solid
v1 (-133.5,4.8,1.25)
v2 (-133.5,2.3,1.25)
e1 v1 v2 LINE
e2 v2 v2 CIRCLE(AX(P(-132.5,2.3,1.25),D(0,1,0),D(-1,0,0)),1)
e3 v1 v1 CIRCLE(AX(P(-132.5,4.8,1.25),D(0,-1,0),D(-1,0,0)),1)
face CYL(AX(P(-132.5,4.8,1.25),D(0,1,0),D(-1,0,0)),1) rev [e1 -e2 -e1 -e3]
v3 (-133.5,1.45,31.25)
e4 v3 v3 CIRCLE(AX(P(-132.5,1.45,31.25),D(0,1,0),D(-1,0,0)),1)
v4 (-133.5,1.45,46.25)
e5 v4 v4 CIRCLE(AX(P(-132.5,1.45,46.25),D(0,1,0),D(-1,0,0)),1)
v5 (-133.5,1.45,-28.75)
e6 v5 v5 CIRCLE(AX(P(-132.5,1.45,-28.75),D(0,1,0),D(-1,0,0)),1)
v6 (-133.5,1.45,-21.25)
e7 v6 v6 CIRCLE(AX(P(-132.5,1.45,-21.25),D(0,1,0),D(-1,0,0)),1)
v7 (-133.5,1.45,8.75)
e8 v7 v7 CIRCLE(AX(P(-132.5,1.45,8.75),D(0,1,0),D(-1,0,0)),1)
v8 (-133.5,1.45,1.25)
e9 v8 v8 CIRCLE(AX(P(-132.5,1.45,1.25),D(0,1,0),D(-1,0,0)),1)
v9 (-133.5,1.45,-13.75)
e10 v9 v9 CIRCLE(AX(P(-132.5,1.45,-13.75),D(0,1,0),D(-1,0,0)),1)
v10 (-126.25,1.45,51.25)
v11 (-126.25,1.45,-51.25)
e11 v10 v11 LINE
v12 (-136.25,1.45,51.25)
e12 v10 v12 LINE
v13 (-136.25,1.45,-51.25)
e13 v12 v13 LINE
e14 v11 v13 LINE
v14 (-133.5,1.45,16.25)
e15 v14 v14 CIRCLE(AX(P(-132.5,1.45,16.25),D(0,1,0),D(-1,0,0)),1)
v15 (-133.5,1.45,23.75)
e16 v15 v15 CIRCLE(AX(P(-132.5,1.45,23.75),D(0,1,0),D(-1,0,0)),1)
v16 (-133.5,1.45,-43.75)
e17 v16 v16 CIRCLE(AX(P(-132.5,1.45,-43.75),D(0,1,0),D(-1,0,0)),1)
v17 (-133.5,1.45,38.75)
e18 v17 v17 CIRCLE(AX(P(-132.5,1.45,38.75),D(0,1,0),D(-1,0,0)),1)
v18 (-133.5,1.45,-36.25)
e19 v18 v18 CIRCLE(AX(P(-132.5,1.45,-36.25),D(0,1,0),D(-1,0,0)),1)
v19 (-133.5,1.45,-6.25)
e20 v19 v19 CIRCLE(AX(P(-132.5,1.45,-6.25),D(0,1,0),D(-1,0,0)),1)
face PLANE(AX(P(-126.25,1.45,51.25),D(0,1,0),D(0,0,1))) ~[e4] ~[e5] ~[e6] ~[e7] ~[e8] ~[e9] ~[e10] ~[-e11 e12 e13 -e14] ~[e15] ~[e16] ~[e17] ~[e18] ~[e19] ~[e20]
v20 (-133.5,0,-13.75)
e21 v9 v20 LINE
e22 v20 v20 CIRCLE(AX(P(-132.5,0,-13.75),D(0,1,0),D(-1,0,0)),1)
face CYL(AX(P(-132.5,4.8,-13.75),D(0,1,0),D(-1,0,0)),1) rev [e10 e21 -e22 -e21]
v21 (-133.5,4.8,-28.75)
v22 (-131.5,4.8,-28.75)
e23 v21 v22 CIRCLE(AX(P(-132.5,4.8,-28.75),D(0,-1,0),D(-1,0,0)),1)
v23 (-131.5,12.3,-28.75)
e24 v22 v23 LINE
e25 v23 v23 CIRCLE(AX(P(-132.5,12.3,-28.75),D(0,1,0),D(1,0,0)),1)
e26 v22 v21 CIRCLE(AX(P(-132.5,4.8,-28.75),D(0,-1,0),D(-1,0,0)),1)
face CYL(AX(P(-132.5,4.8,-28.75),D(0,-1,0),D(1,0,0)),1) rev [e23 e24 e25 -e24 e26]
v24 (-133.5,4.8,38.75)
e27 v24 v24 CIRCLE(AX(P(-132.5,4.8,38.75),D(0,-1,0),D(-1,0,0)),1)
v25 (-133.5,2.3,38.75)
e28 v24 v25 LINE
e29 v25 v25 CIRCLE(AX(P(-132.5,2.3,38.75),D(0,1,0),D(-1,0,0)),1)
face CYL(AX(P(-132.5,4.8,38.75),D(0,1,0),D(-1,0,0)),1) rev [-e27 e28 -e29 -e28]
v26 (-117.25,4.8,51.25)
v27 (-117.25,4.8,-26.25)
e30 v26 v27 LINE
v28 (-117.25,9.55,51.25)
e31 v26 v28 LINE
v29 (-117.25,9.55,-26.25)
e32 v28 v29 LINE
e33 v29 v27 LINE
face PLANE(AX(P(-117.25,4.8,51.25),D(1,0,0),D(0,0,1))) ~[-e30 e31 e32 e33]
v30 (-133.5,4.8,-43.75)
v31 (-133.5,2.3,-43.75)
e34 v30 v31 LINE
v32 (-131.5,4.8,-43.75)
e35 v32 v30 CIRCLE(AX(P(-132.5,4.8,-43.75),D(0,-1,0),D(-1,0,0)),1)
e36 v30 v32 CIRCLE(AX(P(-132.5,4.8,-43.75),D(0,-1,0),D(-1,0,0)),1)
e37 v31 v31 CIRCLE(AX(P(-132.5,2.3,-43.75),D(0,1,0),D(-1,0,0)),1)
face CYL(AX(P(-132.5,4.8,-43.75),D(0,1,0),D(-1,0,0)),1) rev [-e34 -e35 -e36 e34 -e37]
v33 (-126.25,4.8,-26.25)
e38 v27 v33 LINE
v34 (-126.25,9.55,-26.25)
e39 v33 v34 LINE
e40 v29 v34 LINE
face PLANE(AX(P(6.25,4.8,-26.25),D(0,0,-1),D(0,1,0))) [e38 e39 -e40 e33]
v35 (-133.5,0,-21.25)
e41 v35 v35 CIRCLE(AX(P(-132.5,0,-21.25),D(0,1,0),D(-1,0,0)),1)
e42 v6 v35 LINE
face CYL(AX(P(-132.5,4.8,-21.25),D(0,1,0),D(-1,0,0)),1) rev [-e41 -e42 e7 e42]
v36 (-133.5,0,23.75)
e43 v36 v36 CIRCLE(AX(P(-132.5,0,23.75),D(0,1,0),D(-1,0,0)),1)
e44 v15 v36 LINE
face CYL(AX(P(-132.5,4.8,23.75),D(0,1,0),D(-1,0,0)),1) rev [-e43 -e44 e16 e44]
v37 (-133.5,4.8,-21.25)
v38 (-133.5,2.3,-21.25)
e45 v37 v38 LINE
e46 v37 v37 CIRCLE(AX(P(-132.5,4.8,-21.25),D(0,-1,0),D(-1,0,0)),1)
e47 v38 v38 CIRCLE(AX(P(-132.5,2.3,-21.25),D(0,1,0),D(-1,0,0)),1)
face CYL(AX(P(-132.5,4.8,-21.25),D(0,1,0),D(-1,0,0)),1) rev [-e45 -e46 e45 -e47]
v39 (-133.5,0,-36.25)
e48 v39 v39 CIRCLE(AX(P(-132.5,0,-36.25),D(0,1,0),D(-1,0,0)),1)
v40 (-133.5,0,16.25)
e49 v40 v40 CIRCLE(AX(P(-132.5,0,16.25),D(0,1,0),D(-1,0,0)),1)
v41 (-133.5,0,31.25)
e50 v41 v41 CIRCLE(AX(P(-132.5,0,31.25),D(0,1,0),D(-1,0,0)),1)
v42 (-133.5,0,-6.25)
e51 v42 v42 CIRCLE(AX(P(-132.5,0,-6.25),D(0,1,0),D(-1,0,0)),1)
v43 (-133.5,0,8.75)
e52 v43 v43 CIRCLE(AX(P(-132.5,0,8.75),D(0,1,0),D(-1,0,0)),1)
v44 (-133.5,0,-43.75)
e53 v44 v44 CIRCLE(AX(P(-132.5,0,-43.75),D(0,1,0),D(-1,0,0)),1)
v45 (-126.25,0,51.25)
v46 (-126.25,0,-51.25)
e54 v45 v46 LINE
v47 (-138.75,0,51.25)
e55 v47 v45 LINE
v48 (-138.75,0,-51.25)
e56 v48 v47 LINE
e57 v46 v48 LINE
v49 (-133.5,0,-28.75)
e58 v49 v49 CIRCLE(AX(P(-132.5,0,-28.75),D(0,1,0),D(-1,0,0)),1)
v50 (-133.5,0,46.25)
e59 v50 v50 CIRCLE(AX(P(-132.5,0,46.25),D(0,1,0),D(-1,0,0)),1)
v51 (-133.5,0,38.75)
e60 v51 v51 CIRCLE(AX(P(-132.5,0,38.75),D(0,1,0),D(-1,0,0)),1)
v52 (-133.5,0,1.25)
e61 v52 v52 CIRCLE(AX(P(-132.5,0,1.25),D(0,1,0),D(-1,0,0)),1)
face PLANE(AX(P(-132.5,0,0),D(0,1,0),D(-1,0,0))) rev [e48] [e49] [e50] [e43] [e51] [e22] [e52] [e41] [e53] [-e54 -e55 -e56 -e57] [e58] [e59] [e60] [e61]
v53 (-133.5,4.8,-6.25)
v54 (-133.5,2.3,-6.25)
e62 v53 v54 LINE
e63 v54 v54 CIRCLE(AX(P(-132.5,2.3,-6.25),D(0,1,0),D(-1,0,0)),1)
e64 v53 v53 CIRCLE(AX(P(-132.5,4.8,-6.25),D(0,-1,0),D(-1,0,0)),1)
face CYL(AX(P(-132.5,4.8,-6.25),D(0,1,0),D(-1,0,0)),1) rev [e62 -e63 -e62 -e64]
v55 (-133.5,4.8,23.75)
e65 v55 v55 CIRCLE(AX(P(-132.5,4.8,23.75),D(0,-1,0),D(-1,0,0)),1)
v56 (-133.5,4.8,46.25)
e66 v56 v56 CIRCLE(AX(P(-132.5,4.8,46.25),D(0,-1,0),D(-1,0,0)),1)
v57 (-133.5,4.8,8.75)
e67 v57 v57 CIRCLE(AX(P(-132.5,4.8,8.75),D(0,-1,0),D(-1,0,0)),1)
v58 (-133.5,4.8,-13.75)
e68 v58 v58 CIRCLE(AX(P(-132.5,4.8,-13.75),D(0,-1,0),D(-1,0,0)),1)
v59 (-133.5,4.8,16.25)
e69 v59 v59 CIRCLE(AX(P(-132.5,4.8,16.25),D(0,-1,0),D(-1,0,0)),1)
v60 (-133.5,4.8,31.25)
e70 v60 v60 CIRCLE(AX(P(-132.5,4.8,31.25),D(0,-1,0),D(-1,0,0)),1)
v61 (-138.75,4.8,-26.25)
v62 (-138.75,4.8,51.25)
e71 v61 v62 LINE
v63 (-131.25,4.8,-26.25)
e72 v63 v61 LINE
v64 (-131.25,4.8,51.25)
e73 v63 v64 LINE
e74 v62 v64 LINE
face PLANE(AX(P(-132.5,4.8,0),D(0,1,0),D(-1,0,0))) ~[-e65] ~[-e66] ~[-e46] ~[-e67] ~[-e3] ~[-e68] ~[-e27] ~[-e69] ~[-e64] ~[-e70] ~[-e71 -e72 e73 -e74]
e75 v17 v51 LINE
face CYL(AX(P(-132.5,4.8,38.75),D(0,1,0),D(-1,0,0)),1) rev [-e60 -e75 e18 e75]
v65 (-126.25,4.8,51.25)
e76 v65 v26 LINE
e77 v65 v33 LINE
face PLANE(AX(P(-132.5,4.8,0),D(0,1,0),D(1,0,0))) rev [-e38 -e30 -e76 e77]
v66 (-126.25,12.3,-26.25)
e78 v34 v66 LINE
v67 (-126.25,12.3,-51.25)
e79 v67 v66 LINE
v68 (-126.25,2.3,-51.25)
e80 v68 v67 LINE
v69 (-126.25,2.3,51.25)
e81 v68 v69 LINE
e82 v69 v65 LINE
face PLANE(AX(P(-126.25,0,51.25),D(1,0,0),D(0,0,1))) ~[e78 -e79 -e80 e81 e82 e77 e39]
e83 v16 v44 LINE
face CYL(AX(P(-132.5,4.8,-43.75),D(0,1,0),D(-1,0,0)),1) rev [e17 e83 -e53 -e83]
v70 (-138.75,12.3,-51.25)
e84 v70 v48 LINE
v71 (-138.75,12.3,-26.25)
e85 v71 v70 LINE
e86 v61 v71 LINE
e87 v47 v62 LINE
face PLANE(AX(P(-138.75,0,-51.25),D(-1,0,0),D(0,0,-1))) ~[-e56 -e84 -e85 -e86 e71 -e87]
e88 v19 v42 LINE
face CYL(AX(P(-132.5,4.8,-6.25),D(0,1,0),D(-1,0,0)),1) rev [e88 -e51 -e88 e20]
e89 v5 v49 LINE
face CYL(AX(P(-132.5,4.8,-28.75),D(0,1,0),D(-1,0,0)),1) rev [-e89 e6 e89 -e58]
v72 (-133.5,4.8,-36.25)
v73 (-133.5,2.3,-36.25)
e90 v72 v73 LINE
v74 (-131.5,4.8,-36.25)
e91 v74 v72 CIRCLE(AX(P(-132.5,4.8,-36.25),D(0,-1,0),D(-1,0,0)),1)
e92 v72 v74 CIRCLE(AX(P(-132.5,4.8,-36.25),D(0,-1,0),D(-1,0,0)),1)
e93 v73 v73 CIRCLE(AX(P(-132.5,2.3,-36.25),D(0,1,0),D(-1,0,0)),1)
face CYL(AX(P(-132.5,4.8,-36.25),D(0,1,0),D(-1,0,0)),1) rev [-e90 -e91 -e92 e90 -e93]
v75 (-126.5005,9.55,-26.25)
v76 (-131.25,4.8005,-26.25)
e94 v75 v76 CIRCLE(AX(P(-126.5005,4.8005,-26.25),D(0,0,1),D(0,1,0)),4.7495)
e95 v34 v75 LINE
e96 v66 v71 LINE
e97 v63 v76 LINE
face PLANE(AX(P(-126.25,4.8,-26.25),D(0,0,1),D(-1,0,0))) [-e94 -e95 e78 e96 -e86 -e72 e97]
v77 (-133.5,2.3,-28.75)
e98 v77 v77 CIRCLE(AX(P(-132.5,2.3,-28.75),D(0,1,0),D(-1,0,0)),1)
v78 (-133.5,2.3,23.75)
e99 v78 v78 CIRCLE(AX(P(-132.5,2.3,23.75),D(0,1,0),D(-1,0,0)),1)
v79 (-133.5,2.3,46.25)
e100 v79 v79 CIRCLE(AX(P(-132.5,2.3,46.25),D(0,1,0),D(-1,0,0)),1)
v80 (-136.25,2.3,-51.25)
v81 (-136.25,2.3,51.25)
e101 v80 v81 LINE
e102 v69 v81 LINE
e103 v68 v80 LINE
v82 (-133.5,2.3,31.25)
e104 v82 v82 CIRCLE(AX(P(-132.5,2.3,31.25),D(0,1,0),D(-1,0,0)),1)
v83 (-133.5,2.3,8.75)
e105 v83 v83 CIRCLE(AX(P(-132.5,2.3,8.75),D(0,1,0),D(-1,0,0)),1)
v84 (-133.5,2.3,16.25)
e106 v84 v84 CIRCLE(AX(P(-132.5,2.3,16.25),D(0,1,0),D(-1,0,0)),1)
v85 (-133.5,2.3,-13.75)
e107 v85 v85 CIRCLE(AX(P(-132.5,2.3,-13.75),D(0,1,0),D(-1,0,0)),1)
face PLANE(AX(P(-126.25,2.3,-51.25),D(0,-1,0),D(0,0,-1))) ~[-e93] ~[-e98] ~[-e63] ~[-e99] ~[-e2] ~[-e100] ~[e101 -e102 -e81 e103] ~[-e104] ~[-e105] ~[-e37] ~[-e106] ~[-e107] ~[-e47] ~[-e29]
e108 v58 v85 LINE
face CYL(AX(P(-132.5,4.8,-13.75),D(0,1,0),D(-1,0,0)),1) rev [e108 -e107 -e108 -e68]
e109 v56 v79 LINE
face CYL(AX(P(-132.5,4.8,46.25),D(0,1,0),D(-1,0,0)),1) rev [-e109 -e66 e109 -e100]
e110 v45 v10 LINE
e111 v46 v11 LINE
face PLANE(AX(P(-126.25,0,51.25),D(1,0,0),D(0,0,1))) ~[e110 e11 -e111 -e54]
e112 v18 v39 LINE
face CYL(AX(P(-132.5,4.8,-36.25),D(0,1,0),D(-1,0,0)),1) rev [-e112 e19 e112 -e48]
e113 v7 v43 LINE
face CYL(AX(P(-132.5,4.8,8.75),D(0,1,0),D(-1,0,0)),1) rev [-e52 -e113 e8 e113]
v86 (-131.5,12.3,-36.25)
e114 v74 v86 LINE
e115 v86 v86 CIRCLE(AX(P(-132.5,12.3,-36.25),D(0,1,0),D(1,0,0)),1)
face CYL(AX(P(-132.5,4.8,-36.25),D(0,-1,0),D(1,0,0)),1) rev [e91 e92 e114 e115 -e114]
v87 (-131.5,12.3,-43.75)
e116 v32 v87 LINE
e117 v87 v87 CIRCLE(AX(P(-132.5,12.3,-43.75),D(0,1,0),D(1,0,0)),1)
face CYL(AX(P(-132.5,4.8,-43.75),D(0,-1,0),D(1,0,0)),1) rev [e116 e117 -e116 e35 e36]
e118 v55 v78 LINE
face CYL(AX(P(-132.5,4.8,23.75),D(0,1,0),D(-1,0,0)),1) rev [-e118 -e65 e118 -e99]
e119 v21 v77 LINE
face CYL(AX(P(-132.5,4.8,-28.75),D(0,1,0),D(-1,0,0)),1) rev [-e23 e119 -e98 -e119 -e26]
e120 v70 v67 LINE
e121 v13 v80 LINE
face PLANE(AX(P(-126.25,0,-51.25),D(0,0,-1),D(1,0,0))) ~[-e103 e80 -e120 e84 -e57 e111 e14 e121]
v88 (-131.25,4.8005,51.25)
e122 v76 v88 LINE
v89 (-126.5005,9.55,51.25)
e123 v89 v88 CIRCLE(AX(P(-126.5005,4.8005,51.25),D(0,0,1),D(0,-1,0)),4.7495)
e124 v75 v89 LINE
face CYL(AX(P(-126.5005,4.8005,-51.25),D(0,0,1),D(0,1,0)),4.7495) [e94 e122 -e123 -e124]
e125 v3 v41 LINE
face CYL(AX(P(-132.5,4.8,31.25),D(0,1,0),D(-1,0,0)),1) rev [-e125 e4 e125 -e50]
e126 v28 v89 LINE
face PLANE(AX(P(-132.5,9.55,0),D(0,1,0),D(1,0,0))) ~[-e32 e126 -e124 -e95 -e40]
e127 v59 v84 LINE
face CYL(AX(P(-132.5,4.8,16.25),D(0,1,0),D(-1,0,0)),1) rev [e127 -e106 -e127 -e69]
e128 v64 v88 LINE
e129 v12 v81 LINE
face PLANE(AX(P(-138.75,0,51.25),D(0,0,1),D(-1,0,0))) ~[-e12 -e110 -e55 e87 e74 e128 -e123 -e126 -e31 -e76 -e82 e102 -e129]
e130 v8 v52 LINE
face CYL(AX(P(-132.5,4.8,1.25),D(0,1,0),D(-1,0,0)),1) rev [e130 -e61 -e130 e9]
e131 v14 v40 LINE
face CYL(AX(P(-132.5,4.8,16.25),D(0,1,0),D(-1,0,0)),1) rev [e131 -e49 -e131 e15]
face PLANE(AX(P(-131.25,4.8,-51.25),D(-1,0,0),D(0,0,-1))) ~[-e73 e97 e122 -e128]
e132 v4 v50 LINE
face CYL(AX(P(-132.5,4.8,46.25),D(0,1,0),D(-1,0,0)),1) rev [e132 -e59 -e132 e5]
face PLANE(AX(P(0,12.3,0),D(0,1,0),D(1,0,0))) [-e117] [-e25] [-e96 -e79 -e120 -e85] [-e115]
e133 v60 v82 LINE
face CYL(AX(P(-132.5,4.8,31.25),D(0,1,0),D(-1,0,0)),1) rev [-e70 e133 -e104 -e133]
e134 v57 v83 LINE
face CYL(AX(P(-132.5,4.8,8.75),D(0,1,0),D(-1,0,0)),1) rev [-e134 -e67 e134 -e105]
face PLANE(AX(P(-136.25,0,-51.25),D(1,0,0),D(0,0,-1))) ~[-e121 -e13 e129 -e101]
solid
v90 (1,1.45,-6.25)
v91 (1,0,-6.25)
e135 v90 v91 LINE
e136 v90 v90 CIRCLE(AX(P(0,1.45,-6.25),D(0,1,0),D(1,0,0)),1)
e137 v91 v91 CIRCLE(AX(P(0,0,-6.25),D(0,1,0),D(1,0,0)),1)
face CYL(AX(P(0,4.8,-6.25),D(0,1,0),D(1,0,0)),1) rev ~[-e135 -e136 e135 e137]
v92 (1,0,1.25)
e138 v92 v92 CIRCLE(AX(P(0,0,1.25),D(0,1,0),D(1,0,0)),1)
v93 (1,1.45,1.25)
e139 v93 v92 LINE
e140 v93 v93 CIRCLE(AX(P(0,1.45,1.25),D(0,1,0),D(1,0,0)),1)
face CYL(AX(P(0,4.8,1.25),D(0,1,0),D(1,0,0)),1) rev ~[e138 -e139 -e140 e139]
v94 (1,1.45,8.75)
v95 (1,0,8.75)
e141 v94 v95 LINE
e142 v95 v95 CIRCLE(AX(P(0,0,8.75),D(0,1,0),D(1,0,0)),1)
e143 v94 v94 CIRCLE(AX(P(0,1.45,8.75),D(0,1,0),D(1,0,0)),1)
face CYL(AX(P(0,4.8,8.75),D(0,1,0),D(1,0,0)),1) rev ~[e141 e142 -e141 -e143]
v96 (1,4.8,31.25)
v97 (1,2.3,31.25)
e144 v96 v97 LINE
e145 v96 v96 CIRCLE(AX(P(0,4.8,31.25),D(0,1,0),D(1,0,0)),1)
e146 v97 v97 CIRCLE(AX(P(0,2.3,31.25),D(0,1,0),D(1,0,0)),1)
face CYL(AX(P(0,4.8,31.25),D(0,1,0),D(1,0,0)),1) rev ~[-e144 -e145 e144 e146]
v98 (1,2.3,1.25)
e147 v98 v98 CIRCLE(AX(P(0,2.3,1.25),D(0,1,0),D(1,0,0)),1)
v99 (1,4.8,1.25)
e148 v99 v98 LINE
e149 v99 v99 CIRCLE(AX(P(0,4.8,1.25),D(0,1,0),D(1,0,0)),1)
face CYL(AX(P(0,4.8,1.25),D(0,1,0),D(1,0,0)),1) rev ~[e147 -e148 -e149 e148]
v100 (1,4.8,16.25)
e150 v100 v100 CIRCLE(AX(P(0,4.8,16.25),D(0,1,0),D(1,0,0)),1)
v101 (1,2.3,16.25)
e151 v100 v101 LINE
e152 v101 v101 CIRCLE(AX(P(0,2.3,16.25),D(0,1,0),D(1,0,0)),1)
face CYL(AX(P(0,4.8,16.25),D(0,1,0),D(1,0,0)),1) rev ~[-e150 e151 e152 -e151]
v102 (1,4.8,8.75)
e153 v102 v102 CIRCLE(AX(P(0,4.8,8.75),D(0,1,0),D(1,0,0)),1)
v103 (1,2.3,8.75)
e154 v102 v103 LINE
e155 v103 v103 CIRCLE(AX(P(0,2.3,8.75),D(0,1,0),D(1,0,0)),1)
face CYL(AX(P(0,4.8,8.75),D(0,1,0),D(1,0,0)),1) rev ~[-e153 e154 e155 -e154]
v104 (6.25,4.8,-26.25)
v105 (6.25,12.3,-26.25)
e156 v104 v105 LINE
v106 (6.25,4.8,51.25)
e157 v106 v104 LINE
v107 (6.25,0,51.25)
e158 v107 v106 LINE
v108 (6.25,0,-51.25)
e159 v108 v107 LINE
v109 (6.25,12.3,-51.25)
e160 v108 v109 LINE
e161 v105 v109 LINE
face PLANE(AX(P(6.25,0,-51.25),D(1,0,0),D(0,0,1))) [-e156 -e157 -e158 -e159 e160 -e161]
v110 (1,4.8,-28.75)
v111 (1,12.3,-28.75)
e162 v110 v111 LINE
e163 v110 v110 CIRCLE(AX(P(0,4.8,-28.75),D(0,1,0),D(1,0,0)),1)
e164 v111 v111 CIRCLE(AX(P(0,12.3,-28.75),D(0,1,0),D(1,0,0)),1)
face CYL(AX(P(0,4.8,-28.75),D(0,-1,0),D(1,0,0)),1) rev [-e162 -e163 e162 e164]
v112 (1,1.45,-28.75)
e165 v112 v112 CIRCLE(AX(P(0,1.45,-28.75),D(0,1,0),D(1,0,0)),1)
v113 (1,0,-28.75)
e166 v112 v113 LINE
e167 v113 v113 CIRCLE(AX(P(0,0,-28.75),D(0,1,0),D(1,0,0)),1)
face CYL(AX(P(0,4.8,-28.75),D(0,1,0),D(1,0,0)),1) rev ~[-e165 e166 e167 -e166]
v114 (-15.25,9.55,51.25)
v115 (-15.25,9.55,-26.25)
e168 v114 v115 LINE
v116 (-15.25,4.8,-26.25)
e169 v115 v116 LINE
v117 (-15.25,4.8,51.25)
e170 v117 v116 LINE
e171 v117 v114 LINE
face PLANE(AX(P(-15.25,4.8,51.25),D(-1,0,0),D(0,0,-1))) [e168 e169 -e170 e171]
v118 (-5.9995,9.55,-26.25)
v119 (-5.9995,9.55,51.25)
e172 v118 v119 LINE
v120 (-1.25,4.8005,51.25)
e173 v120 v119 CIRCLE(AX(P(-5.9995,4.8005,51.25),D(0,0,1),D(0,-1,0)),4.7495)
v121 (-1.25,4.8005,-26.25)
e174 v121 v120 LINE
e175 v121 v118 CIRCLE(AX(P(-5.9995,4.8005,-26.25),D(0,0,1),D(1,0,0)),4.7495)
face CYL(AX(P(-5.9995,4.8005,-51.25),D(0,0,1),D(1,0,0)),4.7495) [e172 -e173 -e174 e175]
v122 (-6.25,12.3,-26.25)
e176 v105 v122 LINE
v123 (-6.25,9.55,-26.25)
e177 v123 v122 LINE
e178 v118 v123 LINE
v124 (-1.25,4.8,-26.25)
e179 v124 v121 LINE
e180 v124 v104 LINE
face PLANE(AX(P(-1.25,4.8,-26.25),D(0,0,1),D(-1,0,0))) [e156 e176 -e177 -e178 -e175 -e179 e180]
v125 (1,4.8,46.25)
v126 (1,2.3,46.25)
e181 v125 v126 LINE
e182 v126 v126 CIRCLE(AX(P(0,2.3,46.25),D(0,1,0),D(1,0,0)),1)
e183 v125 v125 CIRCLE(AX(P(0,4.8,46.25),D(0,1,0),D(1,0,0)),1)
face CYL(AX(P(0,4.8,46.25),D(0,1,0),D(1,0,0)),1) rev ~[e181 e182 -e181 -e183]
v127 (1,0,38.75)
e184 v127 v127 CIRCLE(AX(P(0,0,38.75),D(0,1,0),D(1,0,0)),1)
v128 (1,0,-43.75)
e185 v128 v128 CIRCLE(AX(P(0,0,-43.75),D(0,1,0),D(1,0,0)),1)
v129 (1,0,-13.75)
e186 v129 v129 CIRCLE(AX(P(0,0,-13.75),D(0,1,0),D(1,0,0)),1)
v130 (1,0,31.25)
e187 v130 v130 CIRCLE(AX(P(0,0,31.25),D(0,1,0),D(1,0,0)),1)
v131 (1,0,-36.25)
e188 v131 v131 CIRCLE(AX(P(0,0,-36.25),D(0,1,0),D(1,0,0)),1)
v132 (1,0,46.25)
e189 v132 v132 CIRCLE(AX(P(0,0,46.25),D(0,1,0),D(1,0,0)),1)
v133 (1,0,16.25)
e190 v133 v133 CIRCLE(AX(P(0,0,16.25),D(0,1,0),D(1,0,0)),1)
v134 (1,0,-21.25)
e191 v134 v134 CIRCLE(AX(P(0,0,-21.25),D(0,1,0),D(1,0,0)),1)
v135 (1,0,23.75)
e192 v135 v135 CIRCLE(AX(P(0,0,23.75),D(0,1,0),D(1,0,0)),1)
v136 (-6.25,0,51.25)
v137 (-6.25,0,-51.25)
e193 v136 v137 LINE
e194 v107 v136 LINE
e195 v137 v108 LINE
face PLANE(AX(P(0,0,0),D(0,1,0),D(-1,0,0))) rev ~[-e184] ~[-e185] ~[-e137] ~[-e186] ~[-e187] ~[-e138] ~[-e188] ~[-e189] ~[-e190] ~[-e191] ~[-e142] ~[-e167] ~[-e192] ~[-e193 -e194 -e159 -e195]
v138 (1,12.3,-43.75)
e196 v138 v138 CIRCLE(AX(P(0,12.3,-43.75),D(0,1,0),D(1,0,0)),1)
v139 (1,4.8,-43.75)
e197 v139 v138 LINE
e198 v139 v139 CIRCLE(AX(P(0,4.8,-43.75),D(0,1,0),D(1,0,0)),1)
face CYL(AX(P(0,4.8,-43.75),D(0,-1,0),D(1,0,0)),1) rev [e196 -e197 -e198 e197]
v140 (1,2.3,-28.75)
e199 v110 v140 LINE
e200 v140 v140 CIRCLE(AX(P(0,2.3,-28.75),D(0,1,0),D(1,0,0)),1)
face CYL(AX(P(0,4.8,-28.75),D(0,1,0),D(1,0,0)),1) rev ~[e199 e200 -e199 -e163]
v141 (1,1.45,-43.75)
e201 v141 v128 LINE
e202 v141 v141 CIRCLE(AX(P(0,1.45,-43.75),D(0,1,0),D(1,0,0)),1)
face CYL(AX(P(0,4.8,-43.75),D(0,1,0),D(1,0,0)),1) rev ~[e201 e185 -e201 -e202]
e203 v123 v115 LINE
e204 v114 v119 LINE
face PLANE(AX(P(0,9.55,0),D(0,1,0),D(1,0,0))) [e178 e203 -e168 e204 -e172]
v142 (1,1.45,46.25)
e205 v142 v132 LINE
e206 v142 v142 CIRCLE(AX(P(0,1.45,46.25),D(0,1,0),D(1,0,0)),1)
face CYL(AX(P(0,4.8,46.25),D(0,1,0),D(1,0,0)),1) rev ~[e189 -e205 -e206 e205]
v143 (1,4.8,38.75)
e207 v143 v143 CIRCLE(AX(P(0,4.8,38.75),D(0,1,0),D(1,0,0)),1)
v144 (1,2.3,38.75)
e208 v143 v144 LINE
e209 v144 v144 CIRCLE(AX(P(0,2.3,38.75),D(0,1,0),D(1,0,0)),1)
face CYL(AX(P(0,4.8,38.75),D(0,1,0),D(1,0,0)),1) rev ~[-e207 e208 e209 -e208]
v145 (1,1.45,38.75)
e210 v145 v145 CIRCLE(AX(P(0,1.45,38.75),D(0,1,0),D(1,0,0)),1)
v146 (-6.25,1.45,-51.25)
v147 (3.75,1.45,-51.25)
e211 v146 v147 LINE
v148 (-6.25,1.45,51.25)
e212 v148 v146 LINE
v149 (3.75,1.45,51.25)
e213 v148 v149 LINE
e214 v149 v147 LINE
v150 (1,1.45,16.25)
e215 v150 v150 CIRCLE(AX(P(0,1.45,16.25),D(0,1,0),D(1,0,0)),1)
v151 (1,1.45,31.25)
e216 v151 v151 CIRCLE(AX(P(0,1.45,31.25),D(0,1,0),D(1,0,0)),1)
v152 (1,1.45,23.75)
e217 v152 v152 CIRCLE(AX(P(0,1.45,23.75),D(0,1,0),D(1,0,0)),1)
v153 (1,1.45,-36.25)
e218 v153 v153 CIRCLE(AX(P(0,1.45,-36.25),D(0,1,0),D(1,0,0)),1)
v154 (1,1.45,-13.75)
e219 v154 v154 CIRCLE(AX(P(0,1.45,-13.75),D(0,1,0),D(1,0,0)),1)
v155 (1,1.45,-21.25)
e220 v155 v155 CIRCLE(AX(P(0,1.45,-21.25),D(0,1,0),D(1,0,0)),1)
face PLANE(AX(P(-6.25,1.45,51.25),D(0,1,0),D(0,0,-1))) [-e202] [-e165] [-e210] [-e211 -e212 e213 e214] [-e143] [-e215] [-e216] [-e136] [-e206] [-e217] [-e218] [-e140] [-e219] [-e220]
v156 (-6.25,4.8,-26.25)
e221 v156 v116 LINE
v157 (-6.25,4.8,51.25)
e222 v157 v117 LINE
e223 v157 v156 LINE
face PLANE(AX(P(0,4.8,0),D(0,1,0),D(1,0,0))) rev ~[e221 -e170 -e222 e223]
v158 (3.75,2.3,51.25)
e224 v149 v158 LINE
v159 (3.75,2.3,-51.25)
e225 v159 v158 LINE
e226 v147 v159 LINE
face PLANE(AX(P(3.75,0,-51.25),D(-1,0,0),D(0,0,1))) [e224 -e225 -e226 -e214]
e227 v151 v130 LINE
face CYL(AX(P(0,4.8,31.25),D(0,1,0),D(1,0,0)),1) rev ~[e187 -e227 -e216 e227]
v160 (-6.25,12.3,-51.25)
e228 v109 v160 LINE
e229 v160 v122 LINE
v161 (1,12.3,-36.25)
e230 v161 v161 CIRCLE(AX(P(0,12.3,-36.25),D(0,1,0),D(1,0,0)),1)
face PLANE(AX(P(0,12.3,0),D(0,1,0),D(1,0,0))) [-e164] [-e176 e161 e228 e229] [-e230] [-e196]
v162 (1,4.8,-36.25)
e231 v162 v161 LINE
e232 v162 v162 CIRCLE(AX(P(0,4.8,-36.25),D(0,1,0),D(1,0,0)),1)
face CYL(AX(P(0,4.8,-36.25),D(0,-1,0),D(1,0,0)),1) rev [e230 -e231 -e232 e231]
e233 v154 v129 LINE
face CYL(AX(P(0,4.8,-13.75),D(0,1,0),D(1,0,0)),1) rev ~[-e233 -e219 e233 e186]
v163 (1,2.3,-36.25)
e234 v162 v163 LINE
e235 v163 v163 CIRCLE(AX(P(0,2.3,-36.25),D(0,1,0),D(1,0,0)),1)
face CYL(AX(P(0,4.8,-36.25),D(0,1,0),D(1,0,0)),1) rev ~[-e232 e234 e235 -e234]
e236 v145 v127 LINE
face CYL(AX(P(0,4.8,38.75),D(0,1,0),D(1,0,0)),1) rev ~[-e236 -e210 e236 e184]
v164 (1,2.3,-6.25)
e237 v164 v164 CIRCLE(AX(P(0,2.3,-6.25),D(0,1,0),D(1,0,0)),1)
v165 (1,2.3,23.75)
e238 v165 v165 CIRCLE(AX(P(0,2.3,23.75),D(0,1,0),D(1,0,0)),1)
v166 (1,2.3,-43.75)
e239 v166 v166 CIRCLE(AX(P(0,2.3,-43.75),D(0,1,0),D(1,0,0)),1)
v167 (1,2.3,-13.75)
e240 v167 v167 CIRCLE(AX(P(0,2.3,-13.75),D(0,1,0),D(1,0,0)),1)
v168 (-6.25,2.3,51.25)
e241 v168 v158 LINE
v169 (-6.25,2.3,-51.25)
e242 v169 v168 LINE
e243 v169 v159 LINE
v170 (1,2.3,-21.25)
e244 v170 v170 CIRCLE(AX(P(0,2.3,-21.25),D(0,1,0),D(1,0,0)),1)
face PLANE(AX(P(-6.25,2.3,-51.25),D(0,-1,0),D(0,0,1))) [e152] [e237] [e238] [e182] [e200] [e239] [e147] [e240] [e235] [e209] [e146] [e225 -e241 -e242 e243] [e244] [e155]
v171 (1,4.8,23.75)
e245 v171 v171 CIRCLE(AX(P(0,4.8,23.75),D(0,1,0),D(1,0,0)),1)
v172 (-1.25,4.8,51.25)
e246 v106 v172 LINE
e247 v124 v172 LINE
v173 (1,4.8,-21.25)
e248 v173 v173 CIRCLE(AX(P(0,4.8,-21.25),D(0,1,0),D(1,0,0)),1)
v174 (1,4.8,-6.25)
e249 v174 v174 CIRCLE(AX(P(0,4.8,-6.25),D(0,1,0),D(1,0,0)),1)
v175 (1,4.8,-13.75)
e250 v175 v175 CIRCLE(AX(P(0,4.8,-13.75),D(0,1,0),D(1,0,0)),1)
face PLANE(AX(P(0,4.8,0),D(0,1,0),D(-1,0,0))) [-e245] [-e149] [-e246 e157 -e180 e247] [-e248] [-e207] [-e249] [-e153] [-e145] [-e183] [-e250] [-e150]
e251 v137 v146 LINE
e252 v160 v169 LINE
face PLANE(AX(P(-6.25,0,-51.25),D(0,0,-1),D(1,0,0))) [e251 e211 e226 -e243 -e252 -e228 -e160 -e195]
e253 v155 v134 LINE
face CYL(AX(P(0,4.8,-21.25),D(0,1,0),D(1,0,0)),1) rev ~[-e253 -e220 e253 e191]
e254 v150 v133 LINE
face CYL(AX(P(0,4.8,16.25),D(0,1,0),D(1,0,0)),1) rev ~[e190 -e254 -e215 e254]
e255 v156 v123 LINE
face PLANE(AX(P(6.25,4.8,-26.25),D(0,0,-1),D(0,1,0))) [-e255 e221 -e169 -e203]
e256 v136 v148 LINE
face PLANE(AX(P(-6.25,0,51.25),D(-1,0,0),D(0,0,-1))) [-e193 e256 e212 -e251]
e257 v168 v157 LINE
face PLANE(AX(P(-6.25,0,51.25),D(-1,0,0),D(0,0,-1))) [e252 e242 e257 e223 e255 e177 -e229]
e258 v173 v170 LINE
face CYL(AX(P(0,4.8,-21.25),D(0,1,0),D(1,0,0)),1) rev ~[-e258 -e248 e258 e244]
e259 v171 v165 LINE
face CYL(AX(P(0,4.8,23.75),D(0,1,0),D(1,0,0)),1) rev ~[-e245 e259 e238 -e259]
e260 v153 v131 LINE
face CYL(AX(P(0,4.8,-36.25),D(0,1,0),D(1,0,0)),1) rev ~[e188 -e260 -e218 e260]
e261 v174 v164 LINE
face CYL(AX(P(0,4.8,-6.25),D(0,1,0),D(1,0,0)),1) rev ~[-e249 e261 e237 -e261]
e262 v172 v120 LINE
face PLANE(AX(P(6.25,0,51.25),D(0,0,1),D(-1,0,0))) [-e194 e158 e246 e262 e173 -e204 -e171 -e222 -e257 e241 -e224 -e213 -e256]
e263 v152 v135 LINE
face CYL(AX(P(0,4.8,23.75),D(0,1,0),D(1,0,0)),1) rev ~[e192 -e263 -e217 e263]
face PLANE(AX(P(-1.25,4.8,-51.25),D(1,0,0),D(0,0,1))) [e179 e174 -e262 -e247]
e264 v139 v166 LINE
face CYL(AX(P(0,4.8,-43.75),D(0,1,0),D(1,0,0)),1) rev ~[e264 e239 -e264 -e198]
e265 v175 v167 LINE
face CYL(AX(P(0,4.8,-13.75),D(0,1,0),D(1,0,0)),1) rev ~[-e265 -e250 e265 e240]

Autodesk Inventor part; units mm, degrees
ref_plane "YZ Plane" through (0, 0, 0) normal (1, 0, 0) x (0, 1, 0)
ref_plane "XZ Plane" through (0, 0, 0) normal (0, 1, 0) x (-1, 0, 0)
ref_plane "XY Plane" through (0, 0, 0) normal (0, 0, 1) x (1, 0, 0)
sketch "Sketch1" plane through (0, 0, 0) normal (0, 1, 0) x (-1, 0, 0)
  line L0 (-6.25, 51.25) -> (6.25, 51.25)
  line L1 (6.25, 51.25) -> (6.25, -51.25)
  line L2 (6.25, -51.25) -> (-6.25, -51.25)
  line L3 (-6.25, -51.25) -> (-6.25, 51.25)
  line L4 (-6.25, 51.25) -> (6.25, -51.25) construction
  line L5 (6.25, 51.25) -> (-6.25, -51.25) construction
  point P0 (0, 0)
  dimension "d0" = 12.5
  dimension "d1" = 102.5
extrude "Extrusion1" add sketch "Sketch1" along normal blind 4.8
sketch "Sketch2" plane through (-6.25, 0, -51.25) normal (-1, 0, 0) x (0, 0, 1)
  line L0 (0, 0) -> (0, 4.8) projected
  line L1 (102.5, 0) -> (102.5, 4.8) projected
  line L2 (0, 2.3) -> (102.5, 2.3)
  line L3 (102.5, 2.3) -> (102.5, 1.45)
  line L4 (102.5, 1.45) -> (0, 1.45)
  line L5 (0, 1.45) -> (0, 2.3)
  line L6 (0, 4.8) -> (102.5, 4.8) projected
  point P0 (51.25, 0)
  point P1 (102.5, 2.4)
  point P2 (0, 1.45)
  dimension "d4" = 0.85
  dimension "d7" = 2.5
extrude "Extrusion2" cut sketch "Sketch2" against normal blind 10 contours L0 L2 L1 L4
sketch "Sketch3" plane through (0, 4.8, 0) normal (0, 1, 0) x (1, 0, 0)
  line L0 (-6.25, 51.25) -> (-6.25, -51.25) projected
  line L1 (-6.25, -51.25) -> (-15.25, -51.25)
  line L2 (-15.25, -51.25) -> (-15.25, 51.25)
  line L3 (-15.25, 51.25) -> (-6.25, 51.25)
  line L4 (-6.25, 51.25) -> (-6.25, -51.25)
  line L5 (6.25, 51.25) -> (-6.25, 51.25) projected
  line L6 (-6.25, -51.25) -> (6.25, -51.25) projected
  line L7 (-6.25, 51.25) -> (-1.25, 51.25)
  line L8 (-1.25, 51.25) -> (-1.25, -51.25)
  line L9 (-1.25, -51.25) -> (-6.25, -51.25)
  line L10 (-6.25, -51.25) -> (-6.25, 51.25)
  point P0 (0, 0)
  dimension "d8" = 9
  dimension "d9" = 5
extrude "Extrusion3" add sketch "Sketch3" along normal blind 4.75
fillet "Fillet1" radius 4.75 1 edges at (-1.25, 9.55, 0)
ref_plane "Work Plane1" through (-6.25, 0, -33.75) normal (0, 0, 1) x (1, 0, 0)
sketch "Sketch7" plane through (0, 4.8, 0) normal (0, 1, 0) x (1, 0, 0)
  circle A0 centre (0, -46.25) radius 1
  line L0 (-1.25, -51.25) -> (6.25, -51.25) projected
  line L1 (6.25, -51.25) -> (6.25, 51.25) projected
  circle A1 centre (0, -38.75) radius 1
  circle A2 centre (0, -31.25) radius 1
  circle A3 centre (0, -23.75) radius 1
  circle A4 centre (0, -16.25) radius 1
  circle A5 centre (0, -8.75) radius 1
  circle A6 centre (0, -1.25) radius 1
  circle A7 centre (0, 6.25) radius 1
  circle A8 centre (0, 13.75) radius 1
  circle A9 centre (0, 21.25) radius 1
  circle A10 centre (0, 28.75) radius 1
  circle A11 centre (0, 36.25) radius 1
  circle A12 centre (0, 43.75) radius 1
  point P0 (0, 0)
  dimension "d32" = 2
  dimension "d33" = 5
  dimension "d34" = 6.25
  dimension "d37" = 7.5
extrude "Extrusion7" cut sketch "Sketch7" against normal through all
ref_plane "Work Plane2" through (-66.25, 12.3, 50) normal (1, 0, 0) x (0, 0, -1)
mirror "Mirror1" about plane through (-66.25, 12.3, 50) normal (1, 0, 0) of "Extrusion1", "Extrusion3", "Extrusion2", "Extrusion7", "Fillet1"
sketch "Sketch8" plane through (6.25, 0, 51.25) normal (1, 0, 0) x (0, 0, -1)
  line L0 (102.5, 4.8) -> (102.5, 9.55) projected
  line L1 (102.5, 9.55) -> (0, 9.55) projected
  line L2 (102.5, 4.8) -> (77.5, 4.8)
  line L3 (77.5, 4.8) -> (77.5, 9.55)
  line L4 (77.5, 9.55) -> (102.5, 9.55)
  line L5 (102.5, 9.55) -> (102.5, 4.8)
  point P0 (51.25, 0)
  dimension "d44" = 25
extrude "Extrusion8" cut sketch "Sketch8" against normal through all
sketch "Sketch9" plane through (0, 4.8, 0) normal (0, 1, 0) x (1, 0, 0)
  line L0 (-1.25, 26.25) -> (-6.25, 26.25) projected
  line L1 (6.25, -51.25) -> (6.25, 51.25) projected
  line L2 (-6.25, 26.25) -> (6.25, 26.25)
  line L3 (6.25, 26.25) -> (6.25, 51.25)
  line L4 (6.25, 51.25) -> (-6.25, 51.25)
  line L5 (-6.25, 51.25) -> (-6.25, 26.25)
  line L6 (-138.75, 51.25) -> (-126.25, 51.25) projected
  line L7 (-138.75, 51.25) -> (-126.25, 51.25)
  line L8 (-126.25, 51.25) -> (-126.25, 26.25)
  line L9 (-126.25, 26.25) -> (-138.75, 26.25)
  line L10 (-138.75, 26.25) -> (-138.75, 51.25)
  circle A0 centre (-132.5, 28.75) radius 1 projected
  circle A1 centre (-132.5, 36.25) radius 1 projected
  circle A2 centre (-132.5, 43.75) radius 1 projected
  circle A3 centre (0, 28.75) radius 1 projected
  circle A4 centre (0, 36.25) radius 1 projected
  circle A5 centre (0, 43.75) radius 1 projected
  point P0 (0, 0)
  point P1 (6.25, 26.25)
extrude "Extrusion9" add sketch "Sketch9" along normal blind 7.5
properties part number "Tourniquet_Rail_01_V3"
